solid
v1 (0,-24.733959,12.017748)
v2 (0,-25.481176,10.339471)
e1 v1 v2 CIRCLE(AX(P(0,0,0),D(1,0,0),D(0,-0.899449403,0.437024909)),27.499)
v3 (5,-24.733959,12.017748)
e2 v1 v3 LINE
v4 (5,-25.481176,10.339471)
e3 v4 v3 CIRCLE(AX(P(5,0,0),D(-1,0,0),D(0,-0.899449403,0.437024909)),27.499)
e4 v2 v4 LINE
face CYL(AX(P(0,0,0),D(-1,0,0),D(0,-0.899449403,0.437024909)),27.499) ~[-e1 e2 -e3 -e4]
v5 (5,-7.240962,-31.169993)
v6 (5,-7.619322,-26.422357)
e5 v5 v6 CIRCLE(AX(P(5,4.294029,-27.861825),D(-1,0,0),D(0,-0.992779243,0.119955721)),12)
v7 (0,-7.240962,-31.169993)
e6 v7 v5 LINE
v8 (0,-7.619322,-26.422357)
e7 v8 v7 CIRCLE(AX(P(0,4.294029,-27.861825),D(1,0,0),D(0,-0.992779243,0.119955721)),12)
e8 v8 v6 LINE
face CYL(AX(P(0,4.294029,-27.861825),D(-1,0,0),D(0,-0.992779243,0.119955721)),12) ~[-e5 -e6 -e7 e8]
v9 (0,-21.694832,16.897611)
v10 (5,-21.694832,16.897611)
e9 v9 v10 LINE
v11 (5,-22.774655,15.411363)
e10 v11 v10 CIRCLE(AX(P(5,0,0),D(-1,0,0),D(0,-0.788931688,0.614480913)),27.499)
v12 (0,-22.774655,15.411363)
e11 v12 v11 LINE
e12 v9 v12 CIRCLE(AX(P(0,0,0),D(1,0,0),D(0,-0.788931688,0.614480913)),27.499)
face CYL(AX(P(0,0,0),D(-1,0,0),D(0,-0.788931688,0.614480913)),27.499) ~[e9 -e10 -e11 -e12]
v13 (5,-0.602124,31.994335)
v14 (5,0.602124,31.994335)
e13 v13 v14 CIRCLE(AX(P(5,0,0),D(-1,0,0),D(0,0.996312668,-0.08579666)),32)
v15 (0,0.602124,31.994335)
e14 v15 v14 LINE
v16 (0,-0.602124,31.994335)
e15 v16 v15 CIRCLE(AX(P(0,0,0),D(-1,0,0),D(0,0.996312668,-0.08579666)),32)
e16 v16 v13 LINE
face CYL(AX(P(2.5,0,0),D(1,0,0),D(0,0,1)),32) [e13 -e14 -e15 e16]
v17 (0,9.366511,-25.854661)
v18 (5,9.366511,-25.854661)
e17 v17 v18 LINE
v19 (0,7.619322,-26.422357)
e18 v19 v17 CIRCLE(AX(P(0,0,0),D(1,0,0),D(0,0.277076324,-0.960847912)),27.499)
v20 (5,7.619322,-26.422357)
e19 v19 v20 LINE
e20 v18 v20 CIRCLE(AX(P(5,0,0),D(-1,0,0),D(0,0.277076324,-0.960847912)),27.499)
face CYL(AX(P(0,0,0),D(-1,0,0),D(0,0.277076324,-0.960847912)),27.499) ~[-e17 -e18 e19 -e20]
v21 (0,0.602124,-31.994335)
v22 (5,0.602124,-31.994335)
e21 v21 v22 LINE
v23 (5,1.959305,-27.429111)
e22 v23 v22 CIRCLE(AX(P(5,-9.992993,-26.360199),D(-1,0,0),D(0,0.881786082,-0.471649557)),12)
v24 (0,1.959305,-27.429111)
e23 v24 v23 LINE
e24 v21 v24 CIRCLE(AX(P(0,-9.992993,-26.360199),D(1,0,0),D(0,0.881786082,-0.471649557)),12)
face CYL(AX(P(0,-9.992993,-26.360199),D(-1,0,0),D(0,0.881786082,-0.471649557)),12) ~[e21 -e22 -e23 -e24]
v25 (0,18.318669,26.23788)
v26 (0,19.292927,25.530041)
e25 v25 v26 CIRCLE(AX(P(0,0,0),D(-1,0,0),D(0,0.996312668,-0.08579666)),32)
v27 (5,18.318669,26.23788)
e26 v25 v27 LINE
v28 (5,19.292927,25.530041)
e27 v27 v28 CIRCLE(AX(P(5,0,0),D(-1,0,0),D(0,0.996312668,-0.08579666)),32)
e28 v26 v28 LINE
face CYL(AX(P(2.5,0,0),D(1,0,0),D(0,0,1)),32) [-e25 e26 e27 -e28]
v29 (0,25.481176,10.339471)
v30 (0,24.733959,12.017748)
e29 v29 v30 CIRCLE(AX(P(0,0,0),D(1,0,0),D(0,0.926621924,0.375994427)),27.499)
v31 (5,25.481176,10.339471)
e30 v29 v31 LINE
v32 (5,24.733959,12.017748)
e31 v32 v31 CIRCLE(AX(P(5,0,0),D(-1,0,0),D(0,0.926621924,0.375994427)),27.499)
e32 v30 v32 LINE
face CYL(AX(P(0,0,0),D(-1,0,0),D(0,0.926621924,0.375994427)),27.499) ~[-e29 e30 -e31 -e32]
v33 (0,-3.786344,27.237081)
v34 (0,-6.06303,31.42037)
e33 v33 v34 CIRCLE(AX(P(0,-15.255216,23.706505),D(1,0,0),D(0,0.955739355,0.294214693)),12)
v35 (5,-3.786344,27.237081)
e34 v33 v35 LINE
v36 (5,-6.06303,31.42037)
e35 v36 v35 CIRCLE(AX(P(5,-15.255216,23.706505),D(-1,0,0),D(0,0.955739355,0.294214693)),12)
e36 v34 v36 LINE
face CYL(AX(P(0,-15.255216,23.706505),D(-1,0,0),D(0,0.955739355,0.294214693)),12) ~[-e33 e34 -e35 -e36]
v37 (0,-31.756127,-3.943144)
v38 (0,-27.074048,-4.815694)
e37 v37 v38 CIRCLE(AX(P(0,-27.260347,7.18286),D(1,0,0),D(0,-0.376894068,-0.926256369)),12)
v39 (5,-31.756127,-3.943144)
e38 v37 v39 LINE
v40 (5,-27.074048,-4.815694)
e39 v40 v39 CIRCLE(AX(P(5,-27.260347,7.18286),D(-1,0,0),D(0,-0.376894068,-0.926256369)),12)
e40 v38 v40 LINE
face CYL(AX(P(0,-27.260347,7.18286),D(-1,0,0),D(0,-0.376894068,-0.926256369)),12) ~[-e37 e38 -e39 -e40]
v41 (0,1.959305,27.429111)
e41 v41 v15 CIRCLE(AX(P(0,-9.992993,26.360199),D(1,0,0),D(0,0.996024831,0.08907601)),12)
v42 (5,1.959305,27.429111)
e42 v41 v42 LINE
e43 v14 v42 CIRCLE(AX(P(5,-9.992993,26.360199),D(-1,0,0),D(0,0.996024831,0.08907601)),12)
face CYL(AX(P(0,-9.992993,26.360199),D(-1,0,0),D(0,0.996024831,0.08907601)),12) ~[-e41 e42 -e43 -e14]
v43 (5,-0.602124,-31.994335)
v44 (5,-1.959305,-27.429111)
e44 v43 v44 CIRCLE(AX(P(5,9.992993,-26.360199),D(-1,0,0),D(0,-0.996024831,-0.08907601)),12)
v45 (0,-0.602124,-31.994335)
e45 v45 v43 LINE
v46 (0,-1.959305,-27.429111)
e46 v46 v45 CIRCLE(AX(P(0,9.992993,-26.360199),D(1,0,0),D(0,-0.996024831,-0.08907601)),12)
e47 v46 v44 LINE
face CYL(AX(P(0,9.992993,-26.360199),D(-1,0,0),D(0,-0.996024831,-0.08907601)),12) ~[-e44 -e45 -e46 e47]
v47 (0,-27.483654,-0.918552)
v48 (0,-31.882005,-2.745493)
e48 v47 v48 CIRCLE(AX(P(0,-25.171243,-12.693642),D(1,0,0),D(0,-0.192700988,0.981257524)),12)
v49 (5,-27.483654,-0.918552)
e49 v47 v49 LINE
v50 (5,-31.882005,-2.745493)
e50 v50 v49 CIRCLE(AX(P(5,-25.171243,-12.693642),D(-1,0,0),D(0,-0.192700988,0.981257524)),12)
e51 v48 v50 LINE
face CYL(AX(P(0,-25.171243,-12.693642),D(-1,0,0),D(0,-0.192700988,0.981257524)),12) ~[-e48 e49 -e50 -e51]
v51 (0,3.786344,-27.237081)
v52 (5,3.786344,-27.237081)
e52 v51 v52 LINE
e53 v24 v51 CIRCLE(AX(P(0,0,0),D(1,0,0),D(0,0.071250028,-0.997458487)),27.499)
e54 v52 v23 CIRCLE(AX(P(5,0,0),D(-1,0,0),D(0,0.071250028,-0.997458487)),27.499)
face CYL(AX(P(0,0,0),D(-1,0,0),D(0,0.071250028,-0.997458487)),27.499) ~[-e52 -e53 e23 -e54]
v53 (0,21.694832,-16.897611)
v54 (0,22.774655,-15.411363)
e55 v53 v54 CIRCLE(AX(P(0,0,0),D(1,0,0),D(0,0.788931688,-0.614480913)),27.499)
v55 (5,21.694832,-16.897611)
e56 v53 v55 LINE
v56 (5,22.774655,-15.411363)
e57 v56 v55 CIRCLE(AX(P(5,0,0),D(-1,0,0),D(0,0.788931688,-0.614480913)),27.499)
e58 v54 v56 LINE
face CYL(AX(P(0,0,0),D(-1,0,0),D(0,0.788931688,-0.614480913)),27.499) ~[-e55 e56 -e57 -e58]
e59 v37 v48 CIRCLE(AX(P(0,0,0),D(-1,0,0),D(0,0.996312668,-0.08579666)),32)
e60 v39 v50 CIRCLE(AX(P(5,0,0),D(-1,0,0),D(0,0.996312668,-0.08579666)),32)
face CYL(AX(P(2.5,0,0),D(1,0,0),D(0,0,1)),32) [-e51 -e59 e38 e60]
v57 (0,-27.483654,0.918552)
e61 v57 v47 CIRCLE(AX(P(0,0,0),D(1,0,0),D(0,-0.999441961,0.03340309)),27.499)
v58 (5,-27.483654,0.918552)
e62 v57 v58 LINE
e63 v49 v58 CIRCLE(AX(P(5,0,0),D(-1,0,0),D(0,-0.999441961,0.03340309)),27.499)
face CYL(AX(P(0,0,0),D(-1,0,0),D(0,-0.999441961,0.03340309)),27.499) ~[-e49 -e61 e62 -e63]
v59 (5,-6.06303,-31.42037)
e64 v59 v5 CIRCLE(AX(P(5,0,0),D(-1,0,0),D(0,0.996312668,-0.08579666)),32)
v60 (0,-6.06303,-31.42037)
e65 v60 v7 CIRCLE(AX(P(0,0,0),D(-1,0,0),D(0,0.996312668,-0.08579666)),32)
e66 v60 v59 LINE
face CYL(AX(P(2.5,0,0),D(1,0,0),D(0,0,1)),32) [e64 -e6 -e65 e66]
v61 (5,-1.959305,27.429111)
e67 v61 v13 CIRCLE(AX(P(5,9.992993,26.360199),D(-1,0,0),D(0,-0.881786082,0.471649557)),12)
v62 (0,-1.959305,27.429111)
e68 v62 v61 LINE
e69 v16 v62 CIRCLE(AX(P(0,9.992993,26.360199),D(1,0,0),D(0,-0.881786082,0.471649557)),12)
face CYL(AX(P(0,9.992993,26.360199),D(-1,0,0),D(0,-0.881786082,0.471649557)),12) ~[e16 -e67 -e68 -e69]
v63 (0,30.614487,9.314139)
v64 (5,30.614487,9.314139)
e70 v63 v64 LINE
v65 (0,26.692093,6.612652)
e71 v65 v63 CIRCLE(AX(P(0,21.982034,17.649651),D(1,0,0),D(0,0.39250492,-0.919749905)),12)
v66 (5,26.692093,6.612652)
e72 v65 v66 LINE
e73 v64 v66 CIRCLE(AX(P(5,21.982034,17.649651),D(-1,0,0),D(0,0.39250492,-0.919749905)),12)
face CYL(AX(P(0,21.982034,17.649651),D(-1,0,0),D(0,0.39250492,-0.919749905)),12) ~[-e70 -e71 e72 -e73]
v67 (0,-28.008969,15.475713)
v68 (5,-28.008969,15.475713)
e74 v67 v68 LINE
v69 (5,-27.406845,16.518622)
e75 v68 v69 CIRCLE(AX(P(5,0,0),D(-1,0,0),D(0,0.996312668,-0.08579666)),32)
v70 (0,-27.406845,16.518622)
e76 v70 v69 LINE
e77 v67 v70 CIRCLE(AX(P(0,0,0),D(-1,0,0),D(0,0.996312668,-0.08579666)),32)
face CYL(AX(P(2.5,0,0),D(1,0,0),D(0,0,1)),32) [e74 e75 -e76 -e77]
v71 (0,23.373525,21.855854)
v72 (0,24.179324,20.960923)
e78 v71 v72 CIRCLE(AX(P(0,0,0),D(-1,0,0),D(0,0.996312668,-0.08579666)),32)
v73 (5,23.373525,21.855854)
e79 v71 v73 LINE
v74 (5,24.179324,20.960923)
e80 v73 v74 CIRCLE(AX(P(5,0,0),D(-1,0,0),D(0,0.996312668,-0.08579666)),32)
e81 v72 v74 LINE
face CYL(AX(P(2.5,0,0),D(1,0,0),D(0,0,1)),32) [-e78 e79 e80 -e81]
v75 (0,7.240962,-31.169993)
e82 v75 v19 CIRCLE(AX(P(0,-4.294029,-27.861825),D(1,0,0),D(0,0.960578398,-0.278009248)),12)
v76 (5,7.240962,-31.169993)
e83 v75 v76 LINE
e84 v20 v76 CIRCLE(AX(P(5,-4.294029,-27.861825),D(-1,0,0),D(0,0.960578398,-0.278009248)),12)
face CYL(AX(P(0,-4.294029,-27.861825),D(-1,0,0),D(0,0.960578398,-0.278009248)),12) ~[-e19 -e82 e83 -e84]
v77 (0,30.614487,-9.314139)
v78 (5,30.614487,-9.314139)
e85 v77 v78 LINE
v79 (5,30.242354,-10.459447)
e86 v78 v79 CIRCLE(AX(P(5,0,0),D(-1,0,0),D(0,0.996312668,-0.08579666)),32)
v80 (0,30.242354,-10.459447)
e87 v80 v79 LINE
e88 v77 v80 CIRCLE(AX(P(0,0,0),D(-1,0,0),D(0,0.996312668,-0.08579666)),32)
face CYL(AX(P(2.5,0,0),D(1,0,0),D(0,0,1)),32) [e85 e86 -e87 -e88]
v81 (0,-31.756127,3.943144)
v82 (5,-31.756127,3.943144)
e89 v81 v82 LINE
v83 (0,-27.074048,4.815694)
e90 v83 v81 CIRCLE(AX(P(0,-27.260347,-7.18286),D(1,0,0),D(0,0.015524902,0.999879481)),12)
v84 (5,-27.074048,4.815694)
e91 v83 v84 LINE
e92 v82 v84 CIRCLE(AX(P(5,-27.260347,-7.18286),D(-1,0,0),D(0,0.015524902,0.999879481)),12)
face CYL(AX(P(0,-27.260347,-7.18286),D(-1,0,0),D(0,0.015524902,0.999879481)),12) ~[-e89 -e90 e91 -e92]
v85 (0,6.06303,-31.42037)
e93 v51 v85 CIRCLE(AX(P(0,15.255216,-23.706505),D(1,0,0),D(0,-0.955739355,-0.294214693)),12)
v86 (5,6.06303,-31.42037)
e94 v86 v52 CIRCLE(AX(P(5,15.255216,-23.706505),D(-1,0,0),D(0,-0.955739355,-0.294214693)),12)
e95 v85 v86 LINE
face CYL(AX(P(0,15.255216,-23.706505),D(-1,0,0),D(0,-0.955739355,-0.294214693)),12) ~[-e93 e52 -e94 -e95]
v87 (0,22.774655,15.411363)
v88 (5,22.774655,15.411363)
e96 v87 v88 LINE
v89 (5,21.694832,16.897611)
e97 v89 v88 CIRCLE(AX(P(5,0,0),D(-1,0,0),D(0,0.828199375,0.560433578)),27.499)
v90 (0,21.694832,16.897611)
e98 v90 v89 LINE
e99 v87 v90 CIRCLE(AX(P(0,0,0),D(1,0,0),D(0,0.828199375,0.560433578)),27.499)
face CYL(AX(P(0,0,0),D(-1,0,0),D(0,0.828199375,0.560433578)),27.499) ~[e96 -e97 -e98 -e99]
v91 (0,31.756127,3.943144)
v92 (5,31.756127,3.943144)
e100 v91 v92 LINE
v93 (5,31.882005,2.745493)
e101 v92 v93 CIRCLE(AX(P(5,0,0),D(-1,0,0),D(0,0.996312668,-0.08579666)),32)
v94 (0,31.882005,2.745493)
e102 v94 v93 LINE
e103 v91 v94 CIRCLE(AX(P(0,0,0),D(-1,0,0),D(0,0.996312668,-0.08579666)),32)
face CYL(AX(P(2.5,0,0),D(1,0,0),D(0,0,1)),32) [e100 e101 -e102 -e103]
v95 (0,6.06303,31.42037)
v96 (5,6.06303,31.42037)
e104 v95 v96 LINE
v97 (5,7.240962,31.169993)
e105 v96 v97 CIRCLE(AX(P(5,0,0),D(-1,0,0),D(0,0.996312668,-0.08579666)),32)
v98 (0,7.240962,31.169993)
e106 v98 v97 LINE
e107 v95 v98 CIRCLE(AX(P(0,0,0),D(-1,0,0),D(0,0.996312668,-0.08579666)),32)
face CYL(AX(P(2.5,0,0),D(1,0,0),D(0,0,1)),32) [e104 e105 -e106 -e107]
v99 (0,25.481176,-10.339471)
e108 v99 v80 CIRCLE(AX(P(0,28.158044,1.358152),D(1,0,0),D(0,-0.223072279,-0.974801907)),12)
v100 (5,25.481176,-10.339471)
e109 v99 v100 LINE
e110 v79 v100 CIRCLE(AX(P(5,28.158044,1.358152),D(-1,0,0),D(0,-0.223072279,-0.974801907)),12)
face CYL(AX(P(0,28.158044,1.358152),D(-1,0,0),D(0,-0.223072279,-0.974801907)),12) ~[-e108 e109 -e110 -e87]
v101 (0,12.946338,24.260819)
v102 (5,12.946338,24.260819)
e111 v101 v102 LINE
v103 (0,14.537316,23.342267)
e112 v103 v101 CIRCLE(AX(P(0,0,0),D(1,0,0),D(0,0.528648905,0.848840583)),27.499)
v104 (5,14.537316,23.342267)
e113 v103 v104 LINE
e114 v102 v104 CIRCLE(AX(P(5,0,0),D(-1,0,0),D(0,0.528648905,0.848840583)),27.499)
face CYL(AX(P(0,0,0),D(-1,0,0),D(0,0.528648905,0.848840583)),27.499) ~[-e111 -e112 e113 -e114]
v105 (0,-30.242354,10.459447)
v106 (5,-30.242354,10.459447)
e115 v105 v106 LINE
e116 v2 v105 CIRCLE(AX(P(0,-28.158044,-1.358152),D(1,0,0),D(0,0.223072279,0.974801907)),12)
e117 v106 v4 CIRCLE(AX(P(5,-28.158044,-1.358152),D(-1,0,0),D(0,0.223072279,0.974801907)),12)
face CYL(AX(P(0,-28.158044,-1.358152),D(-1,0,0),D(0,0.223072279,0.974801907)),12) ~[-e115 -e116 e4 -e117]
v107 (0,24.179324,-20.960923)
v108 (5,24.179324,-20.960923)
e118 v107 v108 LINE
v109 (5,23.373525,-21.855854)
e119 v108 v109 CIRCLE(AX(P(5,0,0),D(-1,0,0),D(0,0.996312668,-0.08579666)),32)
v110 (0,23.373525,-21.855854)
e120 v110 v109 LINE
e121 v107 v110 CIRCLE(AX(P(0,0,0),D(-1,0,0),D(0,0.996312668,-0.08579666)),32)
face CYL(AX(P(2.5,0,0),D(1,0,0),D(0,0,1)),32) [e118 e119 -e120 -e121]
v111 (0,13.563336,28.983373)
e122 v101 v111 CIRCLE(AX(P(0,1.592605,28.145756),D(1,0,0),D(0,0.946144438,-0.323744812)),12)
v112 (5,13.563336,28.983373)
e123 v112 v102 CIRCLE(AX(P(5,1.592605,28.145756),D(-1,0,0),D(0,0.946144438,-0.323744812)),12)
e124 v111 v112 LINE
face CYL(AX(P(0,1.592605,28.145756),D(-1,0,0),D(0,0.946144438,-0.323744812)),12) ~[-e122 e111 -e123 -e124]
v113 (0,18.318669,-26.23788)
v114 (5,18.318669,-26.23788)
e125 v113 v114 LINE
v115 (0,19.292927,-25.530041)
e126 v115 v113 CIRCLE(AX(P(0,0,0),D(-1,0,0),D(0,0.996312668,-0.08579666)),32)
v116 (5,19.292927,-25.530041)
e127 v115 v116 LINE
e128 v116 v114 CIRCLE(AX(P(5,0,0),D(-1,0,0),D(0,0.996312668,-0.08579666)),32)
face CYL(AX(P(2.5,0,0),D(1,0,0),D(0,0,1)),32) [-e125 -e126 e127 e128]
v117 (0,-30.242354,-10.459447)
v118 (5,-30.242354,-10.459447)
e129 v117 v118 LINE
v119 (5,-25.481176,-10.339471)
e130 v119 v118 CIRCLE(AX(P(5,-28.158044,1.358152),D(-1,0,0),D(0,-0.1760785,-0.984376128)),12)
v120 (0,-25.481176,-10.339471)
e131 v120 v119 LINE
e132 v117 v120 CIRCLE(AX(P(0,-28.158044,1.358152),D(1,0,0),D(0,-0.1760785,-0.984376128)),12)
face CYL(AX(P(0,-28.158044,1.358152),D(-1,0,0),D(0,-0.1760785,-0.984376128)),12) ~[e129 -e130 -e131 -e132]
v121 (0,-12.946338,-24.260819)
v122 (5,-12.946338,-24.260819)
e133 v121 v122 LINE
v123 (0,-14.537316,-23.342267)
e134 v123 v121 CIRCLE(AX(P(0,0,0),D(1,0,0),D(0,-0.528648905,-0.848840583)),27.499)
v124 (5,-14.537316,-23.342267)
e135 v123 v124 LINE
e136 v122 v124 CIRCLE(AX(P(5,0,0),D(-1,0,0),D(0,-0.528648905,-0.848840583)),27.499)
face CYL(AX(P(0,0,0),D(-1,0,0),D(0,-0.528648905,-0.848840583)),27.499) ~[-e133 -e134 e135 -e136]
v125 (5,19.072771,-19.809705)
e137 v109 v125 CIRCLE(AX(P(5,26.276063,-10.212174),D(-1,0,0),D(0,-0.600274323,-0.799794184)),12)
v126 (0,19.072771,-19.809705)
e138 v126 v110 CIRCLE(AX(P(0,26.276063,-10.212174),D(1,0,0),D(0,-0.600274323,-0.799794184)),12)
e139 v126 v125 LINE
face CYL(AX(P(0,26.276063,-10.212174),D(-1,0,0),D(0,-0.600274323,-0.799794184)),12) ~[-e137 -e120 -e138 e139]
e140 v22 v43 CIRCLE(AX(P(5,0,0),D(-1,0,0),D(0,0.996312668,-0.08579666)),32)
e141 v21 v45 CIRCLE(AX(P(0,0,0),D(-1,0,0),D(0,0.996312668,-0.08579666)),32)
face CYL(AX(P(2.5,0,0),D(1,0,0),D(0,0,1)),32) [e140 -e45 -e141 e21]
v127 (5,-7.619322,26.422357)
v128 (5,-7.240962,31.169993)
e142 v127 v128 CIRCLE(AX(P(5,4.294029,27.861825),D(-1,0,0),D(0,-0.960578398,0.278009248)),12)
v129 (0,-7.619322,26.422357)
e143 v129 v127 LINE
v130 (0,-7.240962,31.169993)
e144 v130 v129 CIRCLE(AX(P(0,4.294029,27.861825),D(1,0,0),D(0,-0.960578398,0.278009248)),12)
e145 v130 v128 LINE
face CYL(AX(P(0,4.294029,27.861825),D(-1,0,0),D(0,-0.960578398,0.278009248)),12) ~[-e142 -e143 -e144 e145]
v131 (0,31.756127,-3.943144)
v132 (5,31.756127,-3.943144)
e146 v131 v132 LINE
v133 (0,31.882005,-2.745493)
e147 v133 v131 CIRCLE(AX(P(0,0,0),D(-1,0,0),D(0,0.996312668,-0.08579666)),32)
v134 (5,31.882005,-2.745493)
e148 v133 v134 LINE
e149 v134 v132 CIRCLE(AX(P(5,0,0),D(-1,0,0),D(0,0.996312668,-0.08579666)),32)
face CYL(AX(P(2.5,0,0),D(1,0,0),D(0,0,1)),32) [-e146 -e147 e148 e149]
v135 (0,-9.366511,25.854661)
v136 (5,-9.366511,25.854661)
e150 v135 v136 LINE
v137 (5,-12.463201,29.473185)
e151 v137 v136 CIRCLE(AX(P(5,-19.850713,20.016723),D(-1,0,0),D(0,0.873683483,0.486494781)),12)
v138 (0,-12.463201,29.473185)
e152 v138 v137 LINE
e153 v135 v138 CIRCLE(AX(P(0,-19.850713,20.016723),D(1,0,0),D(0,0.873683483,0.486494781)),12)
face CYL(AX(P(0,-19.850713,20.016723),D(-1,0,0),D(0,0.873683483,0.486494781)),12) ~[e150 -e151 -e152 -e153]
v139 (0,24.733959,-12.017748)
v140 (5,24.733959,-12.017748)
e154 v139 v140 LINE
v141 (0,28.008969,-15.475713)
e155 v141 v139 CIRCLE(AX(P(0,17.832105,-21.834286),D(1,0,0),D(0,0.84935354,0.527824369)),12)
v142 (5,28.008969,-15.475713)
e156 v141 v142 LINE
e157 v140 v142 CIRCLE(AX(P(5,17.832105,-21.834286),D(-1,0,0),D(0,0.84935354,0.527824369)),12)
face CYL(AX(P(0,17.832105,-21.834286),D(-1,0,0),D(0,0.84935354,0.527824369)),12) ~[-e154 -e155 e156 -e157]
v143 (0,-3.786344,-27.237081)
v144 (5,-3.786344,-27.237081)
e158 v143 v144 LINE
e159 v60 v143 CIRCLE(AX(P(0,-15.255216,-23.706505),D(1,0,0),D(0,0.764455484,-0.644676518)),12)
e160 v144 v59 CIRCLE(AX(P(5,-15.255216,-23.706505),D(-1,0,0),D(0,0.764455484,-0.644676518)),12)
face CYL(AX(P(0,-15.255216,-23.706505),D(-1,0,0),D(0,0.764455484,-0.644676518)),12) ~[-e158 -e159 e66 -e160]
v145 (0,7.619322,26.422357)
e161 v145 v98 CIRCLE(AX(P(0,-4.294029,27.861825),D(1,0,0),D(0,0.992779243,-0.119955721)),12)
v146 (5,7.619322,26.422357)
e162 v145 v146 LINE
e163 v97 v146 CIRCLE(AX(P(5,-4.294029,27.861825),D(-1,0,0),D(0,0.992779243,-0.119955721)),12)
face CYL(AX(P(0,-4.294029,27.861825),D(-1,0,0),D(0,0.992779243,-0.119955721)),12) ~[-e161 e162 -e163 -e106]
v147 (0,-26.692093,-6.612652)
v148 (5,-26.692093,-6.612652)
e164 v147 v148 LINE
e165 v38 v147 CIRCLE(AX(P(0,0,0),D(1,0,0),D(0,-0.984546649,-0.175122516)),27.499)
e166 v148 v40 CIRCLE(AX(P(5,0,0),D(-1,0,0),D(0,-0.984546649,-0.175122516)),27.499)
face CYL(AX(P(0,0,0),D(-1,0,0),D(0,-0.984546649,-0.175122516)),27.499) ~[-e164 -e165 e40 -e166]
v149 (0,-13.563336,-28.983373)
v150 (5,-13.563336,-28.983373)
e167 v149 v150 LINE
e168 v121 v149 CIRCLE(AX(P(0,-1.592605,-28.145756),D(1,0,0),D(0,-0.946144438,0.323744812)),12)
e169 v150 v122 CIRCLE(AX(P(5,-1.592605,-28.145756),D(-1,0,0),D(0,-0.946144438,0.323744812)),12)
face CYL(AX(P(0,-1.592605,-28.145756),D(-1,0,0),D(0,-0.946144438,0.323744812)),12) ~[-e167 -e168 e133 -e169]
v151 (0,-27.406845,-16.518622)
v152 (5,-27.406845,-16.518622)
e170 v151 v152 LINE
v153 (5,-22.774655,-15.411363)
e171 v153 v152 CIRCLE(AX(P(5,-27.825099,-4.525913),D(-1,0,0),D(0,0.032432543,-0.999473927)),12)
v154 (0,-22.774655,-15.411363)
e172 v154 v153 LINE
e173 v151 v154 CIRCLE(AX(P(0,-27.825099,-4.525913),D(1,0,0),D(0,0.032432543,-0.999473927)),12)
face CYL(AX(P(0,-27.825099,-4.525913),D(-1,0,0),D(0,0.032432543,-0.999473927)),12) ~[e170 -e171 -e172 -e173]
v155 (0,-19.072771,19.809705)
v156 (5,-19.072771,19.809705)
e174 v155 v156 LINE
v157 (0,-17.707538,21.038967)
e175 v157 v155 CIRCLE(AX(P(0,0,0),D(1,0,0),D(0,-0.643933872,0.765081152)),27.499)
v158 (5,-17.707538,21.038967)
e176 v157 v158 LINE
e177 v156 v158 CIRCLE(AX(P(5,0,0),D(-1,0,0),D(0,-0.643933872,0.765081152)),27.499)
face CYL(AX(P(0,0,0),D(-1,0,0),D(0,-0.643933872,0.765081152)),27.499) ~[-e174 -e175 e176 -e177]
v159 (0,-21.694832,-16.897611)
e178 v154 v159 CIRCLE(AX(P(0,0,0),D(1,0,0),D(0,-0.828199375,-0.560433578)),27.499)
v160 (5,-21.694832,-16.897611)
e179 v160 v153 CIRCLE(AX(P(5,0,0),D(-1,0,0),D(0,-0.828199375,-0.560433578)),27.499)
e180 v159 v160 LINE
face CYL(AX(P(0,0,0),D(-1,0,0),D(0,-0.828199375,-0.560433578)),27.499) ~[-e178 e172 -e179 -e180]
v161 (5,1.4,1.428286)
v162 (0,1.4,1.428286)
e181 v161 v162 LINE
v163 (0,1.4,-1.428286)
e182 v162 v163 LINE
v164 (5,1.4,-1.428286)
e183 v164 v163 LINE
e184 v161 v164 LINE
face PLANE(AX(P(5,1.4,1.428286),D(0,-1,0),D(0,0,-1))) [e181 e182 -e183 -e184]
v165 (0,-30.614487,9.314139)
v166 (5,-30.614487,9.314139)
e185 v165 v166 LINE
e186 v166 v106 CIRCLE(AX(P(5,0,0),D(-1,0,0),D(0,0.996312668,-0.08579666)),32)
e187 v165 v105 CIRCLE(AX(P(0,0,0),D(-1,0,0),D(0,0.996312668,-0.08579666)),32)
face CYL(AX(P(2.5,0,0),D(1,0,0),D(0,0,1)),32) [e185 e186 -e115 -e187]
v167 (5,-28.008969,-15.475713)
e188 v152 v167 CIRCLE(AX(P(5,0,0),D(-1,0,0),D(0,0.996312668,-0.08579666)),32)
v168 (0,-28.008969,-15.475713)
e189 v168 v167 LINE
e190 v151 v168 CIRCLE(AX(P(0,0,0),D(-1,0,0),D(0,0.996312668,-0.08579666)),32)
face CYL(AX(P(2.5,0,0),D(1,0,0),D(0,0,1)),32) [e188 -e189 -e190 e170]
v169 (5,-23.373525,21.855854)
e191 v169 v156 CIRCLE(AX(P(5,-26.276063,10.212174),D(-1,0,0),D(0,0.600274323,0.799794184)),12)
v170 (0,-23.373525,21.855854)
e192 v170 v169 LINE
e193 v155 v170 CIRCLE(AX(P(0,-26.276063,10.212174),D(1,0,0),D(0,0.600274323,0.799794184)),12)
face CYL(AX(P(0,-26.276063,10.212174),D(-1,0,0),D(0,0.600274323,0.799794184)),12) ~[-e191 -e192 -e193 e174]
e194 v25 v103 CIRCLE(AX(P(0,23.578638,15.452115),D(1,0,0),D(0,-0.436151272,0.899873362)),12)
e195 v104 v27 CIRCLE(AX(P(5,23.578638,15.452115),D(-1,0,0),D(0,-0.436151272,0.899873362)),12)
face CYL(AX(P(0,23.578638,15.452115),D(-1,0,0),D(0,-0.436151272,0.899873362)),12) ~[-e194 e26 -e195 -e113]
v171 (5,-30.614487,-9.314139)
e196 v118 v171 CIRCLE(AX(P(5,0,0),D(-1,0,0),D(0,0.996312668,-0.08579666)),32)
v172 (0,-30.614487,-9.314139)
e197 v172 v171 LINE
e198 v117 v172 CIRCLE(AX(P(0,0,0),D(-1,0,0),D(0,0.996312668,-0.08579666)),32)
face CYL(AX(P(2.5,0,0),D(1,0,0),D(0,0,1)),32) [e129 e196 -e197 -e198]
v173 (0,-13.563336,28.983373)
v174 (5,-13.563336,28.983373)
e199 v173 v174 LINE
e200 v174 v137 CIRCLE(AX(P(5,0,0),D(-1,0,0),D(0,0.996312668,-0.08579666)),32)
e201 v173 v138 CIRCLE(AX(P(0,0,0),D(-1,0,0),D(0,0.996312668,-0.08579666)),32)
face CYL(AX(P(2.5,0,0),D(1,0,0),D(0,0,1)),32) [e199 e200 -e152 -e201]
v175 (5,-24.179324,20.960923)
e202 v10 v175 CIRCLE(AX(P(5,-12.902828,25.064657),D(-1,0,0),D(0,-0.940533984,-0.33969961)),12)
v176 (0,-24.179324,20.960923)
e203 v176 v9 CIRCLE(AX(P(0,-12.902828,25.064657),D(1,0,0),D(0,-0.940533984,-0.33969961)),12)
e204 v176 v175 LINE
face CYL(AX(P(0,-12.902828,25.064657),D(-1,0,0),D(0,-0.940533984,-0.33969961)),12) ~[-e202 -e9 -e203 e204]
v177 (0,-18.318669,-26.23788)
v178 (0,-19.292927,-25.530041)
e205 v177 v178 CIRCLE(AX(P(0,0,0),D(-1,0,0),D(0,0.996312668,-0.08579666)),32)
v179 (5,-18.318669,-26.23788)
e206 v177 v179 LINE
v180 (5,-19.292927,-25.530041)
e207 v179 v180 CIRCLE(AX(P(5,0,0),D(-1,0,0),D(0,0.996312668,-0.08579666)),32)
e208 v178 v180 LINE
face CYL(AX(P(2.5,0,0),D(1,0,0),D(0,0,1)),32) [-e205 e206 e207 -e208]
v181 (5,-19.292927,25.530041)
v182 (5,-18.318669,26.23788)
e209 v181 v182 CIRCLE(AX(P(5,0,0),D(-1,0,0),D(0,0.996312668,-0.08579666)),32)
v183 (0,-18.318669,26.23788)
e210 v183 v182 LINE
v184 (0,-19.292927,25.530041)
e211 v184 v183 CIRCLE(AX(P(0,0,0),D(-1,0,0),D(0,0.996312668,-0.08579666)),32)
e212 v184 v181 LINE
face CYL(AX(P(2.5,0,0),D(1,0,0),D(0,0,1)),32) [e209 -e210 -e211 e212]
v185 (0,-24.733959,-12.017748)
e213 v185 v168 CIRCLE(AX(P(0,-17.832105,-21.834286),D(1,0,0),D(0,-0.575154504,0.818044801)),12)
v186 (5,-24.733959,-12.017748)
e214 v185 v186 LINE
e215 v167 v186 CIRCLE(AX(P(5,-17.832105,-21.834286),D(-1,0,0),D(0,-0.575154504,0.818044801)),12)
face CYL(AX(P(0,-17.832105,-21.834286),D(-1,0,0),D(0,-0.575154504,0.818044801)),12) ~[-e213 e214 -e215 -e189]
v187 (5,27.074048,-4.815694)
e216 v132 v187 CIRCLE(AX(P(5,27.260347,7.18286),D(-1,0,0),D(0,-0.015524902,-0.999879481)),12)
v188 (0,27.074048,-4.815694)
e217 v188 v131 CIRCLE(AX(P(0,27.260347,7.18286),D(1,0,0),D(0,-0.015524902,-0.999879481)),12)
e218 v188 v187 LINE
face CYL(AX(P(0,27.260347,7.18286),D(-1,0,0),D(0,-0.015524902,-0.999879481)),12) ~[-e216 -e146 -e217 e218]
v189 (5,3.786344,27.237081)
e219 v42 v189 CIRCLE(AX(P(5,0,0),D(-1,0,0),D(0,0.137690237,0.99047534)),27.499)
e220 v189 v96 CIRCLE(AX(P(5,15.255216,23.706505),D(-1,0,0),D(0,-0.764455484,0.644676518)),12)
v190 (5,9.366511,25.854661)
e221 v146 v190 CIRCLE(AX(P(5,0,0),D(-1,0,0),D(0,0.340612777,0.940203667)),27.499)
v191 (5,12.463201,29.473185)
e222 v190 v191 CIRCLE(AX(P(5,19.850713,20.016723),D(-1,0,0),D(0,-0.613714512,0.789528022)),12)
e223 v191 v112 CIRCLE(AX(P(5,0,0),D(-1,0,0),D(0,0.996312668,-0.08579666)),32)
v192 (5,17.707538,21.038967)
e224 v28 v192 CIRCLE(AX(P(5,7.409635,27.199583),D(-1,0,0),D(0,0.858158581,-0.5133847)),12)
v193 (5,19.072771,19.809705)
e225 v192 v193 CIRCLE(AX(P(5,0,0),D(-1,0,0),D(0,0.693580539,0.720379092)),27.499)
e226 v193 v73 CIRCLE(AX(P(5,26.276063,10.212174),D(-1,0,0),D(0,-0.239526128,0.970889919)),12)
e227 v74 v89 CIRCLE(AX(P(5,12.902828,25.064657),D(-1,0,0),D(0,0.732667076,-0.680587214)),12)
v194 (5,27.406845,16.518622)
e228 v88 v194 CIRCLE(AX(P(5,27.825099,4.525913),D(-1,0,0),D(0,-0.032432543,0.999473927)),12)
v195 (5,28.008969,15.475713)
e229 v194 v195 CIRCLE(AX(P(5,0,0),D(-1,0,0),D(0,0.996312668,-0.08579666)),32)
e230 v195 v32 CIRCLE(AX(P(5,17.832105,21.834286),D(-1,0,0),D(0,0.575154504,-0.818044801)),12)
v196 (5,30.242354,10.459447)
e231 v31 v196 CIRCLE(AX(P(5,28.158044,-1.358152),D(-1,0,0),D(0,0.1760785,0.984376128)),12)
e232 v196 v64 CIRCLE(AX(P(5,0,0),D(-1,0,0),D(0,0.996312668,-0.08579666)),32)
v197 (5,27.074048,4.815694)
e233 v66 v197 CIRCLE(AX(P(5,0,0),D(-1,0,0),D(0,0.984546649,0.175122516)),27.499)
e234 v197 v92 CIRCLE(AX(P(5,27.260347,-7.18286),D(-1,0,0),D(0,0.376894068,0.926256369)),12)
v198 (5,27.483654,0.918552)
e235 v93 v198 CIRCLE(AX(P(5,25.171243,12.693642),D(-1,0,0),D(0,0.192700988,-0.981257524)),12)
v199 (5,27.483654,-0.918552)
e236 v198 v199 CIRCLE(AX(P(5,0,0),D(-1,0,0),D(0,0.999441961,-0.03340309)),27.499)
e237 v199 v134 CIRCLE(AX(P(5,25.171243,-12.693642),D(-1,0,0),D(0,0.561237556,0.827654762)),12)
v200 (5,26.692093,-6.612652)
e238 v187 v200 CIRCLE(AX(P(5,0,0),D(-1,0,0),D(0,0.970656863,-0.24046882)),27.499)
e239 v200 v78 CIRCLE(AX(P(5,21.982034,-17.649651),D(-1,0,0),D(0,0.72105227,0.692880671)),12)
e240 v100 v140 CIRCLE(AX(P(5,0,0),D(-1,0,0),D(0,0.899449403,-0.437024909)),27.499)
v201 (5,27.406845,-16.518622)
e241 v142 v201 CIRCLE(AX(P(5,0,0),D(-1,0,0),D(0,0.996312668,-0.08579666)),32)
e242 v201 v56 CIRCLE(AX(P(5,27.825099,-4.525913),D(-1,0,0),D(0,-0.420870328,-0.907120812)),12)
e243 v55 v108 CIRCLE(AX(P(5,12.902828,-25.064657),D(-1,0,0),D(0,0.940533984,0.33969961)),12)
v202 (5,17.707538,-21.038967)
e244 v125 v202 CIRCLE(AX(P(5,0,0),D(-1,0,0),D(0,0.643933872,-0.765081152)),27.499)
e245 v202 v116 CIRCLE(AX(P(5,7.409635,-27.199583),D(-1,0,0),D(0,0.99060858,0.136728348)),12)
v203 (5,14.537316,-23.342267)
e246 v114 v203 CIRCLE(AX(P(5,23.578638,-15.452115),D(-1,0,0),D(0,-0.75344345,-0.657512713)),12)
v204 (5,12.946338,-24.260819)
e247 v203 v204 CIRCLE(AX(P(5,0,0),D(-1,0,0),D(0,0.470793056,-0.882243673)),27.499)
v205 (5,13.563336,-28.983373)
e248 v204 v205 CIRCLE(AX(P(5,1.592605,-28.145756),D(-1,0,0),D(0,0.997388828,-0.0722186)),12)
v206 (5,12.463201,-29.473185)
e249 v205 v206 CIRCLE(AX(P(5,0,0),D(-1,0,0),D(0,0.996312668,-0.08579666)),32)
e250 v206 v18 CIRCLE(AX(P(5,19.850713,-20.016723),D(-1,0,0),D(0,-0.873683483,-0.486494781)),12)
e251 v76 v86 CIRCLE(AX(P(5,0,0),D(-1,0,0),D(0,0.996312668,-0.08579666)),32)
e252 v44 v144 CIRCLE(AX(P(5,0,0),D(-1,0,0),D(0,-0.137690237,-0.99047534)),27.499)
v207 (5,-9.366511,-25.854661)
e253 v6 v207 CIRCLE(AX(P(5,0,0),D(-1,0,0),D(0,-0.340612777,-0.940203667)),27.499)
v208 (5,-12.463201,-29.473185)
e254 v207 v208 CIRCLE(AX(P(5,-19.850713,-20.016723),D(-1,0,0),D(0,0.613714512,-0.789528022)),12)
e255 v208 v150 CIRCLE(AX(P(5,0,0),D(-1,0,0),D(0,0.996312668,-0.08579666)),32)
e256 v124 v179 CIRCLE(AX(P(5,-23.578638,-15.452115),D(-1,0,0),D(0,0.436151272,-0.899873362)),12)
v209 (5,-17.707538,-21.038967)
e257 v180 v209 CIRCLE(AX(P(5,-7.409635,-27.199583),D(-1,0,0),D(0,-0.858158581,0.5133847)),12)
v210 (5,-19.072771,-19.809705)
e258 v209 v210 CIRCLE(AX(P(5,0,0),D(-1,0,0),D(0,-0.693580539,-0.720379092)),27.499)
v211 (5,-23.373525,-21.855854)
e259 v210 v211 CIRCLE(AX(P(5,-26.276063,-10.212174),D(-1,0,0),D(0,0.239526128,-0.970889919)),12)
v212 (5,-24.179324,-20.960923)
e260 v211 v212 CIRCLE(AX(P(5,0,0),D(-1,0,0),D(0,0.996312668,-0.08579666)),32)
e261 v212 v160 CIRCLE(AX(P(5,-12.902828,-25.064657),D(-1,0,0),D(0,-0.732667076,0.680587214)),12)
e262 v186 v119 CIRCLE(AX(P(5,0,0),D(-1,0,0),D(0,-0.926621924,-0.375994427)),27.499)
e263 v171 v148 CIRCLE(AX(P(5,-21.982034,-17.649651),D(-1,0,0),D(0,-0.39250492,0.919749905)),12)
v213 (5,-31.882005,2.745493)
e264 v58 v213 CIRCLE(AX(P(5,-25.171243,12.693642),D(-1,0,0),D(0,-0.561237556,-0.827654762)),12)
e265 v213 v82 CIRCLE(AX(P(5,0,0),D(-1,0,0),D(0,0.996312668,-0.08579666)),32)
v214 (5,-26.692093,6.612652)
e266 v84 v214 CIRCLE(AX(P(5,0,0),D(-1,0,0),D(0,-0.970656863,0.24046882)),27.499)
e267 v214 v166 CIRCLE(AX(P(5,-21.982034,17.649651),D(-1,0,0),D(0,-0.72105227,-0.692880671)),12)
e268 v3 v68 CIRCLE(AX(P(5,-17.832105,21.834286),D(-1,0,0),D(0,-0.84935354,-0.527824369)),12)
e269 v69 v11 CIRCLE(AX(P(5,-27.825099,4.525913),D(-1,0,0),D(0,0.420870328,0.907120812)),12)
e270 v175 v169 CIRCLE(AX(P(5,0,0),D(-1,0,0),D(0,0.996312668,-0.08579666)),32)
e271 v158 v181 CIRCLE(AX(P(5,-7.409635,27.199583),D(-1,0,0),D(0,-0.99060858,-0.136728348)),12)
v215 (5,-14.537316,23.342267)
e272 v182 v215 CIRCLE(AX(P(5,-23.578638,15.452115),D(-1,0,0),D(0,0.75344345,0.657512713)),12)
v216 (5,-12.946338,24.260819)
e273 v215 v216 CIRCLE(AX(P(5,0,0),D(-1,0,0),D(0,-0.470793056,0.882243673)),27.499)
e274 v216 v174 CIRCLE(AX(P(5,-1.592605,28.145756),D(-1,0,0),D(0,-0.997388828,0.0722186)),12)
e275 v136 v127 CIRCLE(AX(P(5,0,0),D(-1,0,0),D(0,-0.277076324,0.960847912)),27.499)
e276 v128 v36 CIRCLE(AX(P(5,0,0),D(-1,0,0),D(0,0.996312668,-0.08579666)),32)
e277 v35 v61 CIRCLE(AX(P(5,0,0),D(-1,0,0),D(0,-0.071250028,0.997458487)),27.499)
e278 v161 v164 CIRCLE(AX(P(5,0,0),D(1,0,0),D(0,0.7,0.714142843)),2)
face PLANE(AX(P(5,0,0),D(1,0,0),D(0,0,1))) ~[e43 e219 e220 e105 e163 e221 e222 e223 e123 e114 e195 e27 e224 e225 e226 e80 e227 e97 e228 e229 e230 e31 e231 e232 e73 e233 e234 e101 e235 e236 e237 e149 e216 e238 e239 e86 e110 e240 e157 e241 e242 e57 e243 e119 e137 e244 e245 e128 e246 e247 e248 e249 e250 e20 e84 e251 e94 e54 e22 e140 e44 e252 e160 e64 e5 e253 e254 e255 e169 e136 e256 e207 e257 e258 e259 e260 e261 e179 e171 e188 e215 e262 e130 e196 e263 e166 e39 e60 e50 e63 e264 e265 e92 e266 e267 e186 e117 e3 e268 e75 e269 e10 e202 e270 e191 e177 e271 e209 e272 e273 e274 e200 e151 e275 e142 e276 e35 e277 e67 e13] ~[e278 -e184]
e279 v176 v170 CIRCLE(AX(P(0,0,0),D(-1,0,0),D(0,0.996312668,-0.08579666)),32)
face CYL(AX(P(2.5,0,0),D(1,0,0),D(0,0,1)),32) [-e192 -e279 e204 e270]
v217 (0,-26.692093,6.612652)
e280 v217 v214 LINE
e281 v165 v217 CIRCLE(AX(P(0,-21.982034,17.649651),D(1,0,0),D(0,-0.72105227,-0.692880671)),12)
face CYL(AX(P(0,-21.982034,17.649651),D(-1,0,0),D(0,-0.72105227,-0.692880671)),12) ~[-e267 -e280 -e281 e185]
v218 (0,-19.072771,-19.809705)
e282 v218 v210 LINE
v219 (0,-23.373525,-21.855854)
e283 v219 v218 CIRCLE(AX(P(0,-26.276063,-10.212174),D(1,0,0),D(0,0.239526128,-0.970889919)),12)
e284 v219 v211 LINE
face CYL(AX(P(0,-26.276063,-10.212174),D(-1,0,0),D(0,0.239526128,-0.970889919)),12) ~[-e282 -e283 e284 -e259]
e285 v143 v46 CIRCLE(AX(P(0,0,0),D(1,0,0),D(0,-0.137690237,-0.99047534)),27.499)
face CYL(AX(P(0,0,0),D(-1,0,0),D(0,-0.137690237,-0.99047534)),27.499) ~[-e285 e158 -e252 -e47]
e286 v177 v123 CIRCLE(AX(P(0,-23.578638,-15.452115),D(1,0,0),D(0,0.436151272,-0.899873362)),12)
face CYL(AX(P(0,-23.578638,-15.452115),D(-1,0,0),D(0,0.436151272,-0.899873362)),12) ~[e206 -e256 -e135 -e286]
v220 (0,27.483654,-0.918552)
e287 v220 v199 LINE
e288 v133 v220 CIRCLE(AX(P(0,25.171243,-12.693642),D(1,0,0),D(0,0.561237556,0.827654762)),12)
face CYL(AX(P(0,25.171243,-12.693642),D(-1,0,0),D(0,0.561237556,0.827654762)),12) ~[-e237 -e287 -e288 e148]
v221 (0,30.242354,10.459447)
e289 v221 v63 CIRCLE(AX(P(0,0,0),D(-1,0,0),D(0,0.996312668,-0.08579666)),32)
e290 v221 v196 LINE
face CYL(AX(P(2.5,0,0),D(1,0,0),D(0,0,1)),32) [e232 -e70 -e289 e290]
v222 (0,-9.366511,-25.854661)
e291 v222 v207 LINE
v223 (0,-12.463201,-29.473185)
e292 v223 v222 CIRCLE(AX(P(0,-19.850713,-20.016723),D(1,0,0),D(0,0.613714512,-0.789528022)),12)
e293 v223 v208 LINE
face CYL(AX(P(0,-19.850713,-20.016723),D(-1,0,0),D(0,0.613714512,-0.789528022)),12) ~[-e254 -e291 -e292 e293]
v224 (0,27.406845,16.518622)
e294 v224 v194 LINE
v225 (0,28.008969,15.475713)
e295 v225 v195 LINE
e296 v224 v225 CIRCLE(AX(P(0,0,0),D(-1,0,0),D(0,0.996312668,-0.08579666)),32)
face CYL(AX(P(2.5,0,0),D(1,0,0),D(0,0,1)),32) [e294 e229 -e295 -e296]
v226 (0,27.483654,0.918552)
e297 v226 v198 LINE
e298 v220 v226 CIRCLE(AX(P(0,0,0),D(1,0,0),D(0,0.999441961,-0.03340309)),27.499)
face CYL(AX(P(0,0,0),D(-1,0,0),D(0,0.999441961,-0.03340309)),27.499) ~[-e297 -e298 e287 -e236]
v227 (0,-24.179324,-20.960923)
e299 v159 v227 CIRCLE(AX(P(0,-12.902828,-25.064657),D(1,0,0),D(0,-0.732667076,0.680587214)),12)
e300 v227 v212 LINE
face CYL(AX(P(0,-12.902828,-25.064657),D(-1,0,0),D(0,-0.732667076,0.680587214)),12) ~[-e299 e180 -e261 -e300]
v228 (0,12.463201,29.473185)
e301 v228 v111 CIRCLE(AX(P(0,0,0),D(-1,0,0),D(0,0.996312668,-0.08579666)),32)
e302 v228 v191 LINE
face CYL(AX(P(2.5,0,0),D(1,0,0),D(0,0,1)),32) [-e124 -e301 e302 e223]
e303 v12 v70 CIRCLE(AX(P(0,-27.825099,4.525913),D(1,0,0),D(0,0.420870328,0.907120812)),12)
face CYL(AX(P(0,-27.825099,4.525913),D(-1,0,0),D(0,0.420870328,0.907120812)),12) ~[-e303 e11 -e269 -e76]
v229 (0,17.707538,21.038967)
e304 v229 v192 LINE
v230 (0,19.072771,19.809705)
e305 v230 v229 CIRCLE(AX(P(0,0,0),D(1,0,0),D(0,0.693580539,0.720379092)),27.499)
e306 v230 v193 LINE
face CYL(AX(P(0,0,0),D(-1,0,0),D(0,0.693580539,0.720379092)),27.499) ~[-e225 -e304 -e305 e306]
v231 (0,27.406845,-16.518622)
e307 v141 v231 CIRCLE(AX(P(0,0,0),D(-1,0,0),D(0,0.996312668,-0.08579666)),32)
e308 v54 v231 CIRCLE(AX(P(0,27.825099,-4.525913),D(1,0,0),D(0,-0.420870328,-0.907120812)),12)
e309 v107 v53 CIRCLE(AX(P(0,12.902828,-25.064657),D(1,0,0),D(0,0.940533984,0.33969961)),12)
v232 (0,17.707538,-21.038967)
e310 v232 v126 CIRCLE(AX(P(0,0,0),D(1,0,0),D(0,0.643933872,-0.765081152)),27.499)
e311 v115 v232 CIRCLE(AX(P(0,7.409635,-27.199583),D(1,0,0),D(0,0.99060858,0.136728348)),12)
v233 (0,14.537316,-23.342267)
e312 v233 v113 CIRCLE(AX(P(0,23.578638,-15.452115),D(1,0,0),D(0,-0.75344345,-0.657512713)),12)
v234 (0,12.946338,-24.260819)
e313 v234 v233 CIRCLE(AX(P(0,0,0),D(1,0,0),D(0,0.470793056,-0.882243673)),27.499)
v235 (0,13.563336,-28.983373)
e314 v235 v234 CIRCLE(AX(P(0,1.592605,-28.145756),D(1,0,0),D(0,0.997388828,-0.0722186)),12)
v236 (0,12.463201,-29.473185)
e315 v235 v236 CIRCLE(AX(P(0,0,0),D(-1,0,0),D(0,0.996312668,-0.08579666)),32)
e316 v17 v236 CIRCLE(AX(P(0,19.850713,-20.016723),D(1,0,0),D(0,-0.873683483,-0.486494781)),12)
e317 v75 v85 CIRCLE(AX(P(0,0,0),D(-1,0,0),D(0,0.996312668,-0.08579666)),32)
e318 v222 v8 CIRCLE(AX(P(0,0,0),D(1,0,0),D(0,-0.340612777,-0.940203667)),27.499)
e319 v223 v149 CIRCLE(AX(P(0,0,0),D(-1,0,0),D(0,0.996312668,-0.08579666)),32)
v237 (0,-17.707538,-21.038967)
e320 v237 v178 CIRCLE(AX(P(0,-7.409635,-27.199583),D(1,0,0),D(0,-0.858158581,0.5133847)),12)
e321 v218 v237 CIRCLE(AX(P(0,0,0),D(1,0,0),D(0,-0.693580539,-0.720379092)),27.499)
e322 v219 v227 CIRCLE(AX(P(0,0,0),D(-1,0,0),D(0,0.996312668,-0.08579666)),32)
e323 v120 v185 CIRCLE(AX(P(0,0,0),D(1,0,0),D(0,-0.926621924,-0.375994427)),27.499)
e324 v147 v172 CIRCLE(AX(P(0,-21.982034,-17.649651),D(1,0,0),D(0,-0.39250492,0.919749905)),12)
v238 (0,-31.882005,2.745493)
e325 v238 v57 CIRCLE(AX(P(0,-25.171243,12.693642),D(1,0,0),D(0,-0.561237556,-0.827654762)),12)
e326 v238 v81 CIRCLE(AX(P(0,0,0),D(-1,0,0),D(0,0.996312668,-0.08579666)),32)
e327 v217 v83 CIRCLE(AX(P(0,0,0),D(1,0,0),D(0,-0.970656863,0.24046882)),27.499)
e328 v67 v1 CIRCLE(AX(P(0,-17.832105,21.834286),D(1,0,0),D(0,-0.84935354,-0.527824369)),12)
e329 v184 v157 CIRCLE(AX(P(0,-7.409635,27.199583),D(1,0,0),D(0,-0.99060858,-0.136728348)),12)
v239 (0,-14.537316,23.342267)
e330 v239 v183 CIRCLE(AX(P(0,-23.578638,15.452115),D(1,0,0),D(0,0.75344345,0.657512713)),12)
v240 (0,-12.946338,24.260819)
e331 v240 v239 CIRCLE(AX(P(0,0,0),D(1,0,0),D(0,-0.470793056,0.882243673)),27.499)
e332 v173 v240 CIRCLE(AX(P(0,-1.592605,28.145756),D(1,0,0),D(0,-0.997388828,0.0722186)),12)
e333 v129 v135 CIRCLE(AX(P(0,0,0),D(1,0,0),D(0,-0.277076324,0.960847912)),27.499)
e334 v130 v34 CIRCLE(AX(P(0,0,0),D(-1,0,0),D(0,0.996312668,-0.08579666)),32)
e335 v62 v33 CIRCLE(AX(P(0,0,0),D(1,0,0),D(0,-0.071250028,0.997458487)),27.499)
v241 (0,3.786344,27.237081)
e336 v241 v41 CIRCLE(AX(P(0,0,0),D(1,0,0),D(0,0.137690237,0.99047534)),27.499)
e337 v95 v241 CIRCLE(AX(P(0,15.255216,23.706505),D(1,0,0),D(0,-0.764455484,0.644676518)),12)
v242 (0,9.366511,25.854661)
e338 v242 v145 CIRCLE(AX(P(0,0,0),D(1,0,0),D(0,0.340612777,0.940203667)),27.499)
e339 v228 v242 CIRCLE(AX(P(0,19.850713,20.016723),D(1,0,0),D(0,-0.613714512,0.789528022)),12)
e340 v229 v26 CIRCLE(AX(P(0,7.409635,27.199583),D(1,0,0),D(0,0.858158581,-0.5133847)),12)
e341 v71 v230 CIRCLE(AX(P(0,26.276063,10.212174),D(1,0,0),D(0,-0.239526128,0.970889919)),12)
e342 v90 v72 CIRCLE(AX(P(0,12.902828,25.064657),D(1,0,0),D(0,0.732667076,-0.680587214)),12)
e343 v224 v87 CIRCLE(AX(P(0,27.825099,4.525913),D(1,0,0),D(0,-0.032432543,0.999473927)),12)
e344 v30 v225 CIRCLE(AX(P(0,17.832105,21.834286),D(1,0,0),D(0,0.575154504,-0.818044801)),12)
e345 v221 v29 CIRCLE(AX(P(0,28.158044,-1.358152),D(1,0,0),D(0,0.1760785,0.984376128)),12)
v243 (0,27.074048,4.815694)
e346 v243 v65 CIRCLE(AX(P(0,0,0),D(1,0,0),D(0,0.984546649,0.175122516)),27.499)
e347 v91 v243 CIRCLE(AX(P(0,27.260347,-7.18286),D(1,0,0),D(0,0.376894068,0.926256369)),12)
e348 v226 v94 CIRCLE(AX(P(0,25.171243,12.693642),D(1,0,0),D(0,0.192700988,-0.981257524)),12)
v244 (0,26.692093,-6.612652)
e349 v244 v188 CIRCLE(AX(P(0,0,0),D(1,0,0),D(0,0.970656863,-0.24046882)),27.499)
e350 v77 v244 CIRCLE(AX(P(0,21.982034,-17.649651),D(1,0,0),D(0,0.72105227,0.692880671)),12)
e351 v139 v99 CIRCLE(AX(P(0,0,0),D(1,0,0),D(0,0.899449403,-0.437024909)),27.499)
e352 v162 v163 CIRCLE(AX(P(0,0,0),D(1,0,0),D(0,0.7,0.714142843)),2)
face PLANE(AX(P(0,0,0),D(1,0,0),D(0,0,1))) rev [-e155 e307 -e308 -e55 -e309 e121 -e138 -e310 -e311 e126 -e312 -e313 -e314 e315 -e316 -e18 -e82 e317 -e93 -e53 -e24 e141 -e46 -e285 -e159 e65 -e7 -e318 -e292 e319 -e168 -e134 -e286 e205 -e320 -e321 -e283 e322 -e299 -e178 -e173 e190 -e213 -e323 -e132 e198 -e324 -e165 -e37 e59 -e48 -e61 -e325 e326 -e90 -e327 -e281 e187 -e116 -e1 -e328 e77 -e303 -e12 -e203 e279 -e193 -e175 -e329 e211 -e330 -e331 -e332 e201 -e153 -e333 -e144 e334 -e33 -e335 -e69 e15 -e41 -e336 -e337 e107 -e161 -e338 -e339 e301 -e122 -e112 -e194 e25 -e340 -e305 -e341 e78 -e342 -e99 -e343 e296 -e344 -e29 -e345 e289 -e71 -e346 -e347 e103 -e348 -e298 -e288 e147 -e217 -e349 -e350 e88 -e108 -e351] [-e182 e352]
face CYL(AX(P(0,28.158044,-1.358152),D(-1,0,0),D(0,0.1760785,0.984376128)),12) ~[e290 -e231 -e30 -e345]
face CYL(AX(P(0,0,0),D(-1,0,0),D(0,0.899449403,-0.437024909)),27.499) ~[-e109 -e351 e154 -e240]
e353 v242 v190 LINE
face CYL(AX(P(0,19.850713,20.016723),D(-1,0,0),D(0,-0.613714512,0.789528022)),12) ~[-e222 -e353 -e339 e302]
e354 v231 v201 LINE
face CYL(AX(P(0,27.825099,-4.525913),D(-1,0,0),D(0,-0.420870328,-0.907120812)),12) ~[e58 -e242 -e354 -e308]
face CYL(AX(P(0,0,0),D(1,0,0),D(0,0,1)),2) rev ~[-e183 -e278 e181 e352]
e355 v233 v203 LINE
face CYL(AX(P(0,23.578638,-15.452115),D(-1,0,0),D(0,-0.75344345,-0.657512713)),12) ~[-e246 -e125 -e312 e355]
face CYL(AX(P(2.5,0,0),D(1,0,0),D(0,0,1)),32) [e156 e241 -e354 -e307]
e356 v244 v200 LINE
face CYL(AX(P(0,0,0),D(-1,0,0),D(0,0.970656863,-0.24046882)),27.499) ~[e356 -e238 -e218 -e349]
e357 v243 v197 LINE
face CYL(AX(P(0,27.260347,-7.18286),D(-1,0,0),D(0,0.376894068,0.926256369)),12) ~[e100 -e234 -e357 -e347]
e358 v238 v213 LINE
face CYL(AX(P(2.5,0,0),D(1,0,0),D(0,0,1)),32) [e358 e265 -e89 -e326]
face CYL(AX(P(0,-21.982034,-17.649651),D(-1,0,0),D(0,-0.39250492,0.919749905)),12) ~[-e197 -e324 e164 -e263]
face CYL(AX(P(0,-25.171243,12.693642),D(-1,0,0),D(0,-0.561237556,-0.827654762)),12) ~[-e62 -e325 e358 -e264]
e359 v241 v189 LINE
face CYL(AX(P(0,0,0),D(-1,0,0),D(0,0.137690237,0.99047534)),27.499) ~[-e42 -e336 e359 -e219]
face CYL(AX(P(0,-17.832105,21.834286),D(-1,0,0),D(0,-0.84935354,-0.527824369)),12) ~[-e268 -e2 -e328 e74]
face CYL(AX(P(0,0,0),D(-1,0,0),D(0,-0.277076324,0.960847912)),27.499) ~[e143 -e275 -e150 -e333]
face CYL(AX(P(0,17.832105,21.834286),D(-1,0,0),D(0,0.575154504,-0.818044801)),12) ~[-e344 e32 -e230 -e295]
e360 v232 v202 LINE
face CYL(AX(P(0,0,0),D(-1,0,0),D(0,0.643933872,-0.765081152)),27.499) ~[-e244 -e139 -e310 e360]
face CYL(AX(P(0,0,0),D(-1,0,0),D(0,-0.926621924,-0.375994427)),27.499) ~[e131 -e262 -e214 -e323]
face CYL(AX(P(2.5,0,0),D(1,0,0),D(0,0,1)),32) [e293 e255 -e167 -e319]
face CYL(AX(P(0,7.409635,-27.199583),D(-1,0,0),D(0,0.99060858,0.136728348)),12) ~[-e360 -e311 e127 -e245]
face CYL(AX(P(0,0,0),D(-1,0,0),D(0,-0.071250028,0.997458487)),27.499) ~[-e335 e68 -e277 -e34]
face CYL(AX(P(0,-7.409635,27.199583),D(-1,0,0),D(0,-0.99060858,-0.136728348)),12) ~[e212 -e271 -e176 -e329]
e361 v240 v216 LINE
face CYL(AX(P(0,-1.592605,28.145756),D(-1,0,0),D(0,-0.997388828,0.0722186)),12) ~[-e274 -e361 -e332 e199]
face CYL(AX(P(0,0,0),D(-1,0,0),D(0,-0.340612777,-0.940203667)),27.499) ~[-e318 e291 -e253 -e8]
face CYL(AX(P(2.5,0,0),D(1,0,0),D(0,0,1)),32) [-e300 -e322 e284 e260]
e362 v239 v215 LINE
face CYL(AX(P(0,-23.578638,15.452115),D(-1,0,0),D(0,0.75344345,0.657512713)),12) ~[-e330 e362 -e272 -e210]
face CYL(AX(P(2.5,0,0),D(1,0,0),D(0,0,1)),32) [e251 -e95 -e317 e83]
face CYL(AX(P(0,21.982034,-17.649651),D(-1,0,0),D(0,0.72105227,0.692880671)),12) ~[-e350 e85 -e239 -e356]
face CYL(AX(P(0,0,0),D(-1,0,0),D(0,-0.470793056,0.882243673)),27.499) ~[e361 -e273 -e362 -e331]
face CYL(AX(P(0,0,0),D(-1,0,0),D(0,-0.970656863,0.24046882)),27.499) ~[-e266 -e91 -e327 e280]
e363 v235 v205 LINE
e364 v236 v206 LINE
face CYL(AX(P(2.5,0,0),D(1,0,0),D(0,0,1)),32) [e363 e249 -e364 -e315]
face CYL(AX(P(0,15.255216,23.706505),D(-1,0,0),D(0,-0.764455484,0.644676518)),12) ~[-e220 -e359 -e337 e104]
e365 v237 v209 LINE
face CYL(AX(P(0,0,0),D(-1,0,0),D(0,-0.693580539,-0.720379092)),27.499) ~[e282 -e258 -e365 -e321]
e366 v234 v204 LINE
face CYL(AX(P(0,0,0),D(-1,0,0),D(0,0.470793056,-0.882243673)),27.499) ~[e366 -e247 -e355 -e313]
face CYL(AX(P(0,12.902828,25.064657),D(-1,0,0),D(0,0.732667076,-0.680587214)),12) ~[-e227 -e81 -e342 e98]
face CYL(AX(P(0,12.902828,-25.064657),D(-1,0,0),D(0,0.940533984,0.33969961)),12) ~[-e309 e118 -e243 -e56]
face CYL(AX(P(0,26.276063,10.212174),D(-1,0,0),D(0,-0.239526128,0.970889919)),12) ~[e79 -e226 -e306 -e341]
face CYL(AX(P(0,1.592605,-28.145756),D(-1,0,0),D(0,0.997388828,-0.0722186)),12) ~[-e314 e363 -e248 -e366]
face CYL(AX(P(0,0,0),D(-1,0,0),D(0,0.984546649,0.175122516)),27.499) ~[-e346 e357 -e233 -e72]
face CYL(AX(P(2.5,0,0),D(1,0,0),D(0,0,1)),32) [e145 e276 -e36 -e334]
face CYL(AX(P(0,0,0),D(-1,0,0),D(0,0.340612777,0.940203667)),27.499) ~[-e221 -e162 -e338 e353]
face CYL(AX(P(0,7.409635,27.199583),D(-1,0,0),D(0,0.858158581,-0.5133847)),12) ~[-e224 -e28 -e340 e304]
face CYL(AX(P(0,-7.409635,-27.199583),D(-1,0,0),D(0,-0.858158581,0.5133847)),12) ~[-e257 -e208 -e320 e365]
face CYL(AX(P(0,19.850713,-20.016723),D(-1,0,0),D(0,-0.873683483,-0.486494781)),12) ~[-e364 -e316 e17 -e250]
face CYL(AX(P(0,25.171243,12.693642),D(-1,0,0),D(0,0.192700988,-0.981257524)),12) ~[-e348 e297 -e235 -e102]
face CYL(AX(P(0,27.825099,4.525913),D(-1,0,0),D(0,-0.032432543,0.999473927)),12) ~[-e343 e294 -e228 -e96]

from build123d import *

# Parameters (mm, degrees)
BASPROSKE_W         = 5
BASPROSKE_H         = 32
TOOTHCUT_DEPTH      = 46.530209751
TEETHCUTS_COUNT     = 30
TEETHCUTS_ANGLE     = 348
BORSKE_R            = 2
BORE_DEPTH          = 50.0000508
BOSS_EXTRUDE1_DEPTH = 5


with BuildPart() as part:
    # BasProSke → Base-Revolve (revolve)
    with BuildSketch(Plane(origin=(0, 0, 0), x_dir=(1, 0, 0), z_dir=(0, 1, 0)), mode=Mode.PRIVATE) as base_revolve_sk:
        with Locations((2.5, 16)):
            Rectangle(BASPROSKE_W, BASPROSKE_H)
    revolve(base_revolve_sk.sketch.rotate(Axis((-10, 0, 0), (1, 0, 0)), 180), axis=Axis((-10, 0, 0), (1, 0, 0)))

    # TooCutSke → ToothCut (cut, through all)
    with BuildSketch(Plane(origin=(0, 0, 0), x_dir=(0, 0, -1), z_dir=(1, 0, 0))):
        with BuildLine():
            ThreePointArc((0.918551563, 27.483654488), (0, 27.499), (-0.918551563, 27.483654488))
            ThreePointArc((-0.918551563, 27.483654488), (-1.617208176, 29.787801627), (-2.761784709, 31.906093311))
            ThreePointArc((-2.761784709, 31.906093311), (0, 32.0254), (2.761784709, 31.906093311))
            ThreePointArc((2.761784709, 31.906093311), (1.617208176, 29.787801627), (0.918551563, 27.483654488))
        make_face()
    toothcut = extrude(amount=TOOTHCUT_DEPTH, mode=Mode.SUBTRACT)

    # TeethCuts: ToothCut ×30 about axis
    teethcuts_axis = Axis((-10, 0, 0), (1, 0, 0))
    for i in range(1, TEETHCUTS_COUNT):
        add(toothcut.rotate(teethcuts_axis, i * TEETHCUTS_ANGLE / (TEETHCUTS_COUNT - 1)), mode=Mode.SUBTRACT)

    # BorSke → Bore (cut, symmetric)
    with BuildSketch(Plane(origin=(0, 0, 0), x_dir=(0, 0, -1), z_dir=(1, 0, 0))):
        with Locations(Location((0, 0, 0), (0, 0, 180))):
            Circle(BORSKE_R)
    extrude(amount=BORE_DEPTH, both=True, mode=Mode.SUBTRACT)

    # Sketch1 → Boss-Extrude1 (add)
    with BuildSketch(Plane(origin=(5, 0, 0), x_dir=(0, 0, -1), z_dir=(1, 0, 0))):
        with BuildLine():
            Line((-1.428285686, 1.4), (1.428285686, 1.4))
            ThreePointArc((1.428285686, 1.4), (0, 2), (-1.428285686, 1.4))
        make_face()
    extrude(amount=-BOSS_EXTRUDE1_DEPTH)


solid = part.part
